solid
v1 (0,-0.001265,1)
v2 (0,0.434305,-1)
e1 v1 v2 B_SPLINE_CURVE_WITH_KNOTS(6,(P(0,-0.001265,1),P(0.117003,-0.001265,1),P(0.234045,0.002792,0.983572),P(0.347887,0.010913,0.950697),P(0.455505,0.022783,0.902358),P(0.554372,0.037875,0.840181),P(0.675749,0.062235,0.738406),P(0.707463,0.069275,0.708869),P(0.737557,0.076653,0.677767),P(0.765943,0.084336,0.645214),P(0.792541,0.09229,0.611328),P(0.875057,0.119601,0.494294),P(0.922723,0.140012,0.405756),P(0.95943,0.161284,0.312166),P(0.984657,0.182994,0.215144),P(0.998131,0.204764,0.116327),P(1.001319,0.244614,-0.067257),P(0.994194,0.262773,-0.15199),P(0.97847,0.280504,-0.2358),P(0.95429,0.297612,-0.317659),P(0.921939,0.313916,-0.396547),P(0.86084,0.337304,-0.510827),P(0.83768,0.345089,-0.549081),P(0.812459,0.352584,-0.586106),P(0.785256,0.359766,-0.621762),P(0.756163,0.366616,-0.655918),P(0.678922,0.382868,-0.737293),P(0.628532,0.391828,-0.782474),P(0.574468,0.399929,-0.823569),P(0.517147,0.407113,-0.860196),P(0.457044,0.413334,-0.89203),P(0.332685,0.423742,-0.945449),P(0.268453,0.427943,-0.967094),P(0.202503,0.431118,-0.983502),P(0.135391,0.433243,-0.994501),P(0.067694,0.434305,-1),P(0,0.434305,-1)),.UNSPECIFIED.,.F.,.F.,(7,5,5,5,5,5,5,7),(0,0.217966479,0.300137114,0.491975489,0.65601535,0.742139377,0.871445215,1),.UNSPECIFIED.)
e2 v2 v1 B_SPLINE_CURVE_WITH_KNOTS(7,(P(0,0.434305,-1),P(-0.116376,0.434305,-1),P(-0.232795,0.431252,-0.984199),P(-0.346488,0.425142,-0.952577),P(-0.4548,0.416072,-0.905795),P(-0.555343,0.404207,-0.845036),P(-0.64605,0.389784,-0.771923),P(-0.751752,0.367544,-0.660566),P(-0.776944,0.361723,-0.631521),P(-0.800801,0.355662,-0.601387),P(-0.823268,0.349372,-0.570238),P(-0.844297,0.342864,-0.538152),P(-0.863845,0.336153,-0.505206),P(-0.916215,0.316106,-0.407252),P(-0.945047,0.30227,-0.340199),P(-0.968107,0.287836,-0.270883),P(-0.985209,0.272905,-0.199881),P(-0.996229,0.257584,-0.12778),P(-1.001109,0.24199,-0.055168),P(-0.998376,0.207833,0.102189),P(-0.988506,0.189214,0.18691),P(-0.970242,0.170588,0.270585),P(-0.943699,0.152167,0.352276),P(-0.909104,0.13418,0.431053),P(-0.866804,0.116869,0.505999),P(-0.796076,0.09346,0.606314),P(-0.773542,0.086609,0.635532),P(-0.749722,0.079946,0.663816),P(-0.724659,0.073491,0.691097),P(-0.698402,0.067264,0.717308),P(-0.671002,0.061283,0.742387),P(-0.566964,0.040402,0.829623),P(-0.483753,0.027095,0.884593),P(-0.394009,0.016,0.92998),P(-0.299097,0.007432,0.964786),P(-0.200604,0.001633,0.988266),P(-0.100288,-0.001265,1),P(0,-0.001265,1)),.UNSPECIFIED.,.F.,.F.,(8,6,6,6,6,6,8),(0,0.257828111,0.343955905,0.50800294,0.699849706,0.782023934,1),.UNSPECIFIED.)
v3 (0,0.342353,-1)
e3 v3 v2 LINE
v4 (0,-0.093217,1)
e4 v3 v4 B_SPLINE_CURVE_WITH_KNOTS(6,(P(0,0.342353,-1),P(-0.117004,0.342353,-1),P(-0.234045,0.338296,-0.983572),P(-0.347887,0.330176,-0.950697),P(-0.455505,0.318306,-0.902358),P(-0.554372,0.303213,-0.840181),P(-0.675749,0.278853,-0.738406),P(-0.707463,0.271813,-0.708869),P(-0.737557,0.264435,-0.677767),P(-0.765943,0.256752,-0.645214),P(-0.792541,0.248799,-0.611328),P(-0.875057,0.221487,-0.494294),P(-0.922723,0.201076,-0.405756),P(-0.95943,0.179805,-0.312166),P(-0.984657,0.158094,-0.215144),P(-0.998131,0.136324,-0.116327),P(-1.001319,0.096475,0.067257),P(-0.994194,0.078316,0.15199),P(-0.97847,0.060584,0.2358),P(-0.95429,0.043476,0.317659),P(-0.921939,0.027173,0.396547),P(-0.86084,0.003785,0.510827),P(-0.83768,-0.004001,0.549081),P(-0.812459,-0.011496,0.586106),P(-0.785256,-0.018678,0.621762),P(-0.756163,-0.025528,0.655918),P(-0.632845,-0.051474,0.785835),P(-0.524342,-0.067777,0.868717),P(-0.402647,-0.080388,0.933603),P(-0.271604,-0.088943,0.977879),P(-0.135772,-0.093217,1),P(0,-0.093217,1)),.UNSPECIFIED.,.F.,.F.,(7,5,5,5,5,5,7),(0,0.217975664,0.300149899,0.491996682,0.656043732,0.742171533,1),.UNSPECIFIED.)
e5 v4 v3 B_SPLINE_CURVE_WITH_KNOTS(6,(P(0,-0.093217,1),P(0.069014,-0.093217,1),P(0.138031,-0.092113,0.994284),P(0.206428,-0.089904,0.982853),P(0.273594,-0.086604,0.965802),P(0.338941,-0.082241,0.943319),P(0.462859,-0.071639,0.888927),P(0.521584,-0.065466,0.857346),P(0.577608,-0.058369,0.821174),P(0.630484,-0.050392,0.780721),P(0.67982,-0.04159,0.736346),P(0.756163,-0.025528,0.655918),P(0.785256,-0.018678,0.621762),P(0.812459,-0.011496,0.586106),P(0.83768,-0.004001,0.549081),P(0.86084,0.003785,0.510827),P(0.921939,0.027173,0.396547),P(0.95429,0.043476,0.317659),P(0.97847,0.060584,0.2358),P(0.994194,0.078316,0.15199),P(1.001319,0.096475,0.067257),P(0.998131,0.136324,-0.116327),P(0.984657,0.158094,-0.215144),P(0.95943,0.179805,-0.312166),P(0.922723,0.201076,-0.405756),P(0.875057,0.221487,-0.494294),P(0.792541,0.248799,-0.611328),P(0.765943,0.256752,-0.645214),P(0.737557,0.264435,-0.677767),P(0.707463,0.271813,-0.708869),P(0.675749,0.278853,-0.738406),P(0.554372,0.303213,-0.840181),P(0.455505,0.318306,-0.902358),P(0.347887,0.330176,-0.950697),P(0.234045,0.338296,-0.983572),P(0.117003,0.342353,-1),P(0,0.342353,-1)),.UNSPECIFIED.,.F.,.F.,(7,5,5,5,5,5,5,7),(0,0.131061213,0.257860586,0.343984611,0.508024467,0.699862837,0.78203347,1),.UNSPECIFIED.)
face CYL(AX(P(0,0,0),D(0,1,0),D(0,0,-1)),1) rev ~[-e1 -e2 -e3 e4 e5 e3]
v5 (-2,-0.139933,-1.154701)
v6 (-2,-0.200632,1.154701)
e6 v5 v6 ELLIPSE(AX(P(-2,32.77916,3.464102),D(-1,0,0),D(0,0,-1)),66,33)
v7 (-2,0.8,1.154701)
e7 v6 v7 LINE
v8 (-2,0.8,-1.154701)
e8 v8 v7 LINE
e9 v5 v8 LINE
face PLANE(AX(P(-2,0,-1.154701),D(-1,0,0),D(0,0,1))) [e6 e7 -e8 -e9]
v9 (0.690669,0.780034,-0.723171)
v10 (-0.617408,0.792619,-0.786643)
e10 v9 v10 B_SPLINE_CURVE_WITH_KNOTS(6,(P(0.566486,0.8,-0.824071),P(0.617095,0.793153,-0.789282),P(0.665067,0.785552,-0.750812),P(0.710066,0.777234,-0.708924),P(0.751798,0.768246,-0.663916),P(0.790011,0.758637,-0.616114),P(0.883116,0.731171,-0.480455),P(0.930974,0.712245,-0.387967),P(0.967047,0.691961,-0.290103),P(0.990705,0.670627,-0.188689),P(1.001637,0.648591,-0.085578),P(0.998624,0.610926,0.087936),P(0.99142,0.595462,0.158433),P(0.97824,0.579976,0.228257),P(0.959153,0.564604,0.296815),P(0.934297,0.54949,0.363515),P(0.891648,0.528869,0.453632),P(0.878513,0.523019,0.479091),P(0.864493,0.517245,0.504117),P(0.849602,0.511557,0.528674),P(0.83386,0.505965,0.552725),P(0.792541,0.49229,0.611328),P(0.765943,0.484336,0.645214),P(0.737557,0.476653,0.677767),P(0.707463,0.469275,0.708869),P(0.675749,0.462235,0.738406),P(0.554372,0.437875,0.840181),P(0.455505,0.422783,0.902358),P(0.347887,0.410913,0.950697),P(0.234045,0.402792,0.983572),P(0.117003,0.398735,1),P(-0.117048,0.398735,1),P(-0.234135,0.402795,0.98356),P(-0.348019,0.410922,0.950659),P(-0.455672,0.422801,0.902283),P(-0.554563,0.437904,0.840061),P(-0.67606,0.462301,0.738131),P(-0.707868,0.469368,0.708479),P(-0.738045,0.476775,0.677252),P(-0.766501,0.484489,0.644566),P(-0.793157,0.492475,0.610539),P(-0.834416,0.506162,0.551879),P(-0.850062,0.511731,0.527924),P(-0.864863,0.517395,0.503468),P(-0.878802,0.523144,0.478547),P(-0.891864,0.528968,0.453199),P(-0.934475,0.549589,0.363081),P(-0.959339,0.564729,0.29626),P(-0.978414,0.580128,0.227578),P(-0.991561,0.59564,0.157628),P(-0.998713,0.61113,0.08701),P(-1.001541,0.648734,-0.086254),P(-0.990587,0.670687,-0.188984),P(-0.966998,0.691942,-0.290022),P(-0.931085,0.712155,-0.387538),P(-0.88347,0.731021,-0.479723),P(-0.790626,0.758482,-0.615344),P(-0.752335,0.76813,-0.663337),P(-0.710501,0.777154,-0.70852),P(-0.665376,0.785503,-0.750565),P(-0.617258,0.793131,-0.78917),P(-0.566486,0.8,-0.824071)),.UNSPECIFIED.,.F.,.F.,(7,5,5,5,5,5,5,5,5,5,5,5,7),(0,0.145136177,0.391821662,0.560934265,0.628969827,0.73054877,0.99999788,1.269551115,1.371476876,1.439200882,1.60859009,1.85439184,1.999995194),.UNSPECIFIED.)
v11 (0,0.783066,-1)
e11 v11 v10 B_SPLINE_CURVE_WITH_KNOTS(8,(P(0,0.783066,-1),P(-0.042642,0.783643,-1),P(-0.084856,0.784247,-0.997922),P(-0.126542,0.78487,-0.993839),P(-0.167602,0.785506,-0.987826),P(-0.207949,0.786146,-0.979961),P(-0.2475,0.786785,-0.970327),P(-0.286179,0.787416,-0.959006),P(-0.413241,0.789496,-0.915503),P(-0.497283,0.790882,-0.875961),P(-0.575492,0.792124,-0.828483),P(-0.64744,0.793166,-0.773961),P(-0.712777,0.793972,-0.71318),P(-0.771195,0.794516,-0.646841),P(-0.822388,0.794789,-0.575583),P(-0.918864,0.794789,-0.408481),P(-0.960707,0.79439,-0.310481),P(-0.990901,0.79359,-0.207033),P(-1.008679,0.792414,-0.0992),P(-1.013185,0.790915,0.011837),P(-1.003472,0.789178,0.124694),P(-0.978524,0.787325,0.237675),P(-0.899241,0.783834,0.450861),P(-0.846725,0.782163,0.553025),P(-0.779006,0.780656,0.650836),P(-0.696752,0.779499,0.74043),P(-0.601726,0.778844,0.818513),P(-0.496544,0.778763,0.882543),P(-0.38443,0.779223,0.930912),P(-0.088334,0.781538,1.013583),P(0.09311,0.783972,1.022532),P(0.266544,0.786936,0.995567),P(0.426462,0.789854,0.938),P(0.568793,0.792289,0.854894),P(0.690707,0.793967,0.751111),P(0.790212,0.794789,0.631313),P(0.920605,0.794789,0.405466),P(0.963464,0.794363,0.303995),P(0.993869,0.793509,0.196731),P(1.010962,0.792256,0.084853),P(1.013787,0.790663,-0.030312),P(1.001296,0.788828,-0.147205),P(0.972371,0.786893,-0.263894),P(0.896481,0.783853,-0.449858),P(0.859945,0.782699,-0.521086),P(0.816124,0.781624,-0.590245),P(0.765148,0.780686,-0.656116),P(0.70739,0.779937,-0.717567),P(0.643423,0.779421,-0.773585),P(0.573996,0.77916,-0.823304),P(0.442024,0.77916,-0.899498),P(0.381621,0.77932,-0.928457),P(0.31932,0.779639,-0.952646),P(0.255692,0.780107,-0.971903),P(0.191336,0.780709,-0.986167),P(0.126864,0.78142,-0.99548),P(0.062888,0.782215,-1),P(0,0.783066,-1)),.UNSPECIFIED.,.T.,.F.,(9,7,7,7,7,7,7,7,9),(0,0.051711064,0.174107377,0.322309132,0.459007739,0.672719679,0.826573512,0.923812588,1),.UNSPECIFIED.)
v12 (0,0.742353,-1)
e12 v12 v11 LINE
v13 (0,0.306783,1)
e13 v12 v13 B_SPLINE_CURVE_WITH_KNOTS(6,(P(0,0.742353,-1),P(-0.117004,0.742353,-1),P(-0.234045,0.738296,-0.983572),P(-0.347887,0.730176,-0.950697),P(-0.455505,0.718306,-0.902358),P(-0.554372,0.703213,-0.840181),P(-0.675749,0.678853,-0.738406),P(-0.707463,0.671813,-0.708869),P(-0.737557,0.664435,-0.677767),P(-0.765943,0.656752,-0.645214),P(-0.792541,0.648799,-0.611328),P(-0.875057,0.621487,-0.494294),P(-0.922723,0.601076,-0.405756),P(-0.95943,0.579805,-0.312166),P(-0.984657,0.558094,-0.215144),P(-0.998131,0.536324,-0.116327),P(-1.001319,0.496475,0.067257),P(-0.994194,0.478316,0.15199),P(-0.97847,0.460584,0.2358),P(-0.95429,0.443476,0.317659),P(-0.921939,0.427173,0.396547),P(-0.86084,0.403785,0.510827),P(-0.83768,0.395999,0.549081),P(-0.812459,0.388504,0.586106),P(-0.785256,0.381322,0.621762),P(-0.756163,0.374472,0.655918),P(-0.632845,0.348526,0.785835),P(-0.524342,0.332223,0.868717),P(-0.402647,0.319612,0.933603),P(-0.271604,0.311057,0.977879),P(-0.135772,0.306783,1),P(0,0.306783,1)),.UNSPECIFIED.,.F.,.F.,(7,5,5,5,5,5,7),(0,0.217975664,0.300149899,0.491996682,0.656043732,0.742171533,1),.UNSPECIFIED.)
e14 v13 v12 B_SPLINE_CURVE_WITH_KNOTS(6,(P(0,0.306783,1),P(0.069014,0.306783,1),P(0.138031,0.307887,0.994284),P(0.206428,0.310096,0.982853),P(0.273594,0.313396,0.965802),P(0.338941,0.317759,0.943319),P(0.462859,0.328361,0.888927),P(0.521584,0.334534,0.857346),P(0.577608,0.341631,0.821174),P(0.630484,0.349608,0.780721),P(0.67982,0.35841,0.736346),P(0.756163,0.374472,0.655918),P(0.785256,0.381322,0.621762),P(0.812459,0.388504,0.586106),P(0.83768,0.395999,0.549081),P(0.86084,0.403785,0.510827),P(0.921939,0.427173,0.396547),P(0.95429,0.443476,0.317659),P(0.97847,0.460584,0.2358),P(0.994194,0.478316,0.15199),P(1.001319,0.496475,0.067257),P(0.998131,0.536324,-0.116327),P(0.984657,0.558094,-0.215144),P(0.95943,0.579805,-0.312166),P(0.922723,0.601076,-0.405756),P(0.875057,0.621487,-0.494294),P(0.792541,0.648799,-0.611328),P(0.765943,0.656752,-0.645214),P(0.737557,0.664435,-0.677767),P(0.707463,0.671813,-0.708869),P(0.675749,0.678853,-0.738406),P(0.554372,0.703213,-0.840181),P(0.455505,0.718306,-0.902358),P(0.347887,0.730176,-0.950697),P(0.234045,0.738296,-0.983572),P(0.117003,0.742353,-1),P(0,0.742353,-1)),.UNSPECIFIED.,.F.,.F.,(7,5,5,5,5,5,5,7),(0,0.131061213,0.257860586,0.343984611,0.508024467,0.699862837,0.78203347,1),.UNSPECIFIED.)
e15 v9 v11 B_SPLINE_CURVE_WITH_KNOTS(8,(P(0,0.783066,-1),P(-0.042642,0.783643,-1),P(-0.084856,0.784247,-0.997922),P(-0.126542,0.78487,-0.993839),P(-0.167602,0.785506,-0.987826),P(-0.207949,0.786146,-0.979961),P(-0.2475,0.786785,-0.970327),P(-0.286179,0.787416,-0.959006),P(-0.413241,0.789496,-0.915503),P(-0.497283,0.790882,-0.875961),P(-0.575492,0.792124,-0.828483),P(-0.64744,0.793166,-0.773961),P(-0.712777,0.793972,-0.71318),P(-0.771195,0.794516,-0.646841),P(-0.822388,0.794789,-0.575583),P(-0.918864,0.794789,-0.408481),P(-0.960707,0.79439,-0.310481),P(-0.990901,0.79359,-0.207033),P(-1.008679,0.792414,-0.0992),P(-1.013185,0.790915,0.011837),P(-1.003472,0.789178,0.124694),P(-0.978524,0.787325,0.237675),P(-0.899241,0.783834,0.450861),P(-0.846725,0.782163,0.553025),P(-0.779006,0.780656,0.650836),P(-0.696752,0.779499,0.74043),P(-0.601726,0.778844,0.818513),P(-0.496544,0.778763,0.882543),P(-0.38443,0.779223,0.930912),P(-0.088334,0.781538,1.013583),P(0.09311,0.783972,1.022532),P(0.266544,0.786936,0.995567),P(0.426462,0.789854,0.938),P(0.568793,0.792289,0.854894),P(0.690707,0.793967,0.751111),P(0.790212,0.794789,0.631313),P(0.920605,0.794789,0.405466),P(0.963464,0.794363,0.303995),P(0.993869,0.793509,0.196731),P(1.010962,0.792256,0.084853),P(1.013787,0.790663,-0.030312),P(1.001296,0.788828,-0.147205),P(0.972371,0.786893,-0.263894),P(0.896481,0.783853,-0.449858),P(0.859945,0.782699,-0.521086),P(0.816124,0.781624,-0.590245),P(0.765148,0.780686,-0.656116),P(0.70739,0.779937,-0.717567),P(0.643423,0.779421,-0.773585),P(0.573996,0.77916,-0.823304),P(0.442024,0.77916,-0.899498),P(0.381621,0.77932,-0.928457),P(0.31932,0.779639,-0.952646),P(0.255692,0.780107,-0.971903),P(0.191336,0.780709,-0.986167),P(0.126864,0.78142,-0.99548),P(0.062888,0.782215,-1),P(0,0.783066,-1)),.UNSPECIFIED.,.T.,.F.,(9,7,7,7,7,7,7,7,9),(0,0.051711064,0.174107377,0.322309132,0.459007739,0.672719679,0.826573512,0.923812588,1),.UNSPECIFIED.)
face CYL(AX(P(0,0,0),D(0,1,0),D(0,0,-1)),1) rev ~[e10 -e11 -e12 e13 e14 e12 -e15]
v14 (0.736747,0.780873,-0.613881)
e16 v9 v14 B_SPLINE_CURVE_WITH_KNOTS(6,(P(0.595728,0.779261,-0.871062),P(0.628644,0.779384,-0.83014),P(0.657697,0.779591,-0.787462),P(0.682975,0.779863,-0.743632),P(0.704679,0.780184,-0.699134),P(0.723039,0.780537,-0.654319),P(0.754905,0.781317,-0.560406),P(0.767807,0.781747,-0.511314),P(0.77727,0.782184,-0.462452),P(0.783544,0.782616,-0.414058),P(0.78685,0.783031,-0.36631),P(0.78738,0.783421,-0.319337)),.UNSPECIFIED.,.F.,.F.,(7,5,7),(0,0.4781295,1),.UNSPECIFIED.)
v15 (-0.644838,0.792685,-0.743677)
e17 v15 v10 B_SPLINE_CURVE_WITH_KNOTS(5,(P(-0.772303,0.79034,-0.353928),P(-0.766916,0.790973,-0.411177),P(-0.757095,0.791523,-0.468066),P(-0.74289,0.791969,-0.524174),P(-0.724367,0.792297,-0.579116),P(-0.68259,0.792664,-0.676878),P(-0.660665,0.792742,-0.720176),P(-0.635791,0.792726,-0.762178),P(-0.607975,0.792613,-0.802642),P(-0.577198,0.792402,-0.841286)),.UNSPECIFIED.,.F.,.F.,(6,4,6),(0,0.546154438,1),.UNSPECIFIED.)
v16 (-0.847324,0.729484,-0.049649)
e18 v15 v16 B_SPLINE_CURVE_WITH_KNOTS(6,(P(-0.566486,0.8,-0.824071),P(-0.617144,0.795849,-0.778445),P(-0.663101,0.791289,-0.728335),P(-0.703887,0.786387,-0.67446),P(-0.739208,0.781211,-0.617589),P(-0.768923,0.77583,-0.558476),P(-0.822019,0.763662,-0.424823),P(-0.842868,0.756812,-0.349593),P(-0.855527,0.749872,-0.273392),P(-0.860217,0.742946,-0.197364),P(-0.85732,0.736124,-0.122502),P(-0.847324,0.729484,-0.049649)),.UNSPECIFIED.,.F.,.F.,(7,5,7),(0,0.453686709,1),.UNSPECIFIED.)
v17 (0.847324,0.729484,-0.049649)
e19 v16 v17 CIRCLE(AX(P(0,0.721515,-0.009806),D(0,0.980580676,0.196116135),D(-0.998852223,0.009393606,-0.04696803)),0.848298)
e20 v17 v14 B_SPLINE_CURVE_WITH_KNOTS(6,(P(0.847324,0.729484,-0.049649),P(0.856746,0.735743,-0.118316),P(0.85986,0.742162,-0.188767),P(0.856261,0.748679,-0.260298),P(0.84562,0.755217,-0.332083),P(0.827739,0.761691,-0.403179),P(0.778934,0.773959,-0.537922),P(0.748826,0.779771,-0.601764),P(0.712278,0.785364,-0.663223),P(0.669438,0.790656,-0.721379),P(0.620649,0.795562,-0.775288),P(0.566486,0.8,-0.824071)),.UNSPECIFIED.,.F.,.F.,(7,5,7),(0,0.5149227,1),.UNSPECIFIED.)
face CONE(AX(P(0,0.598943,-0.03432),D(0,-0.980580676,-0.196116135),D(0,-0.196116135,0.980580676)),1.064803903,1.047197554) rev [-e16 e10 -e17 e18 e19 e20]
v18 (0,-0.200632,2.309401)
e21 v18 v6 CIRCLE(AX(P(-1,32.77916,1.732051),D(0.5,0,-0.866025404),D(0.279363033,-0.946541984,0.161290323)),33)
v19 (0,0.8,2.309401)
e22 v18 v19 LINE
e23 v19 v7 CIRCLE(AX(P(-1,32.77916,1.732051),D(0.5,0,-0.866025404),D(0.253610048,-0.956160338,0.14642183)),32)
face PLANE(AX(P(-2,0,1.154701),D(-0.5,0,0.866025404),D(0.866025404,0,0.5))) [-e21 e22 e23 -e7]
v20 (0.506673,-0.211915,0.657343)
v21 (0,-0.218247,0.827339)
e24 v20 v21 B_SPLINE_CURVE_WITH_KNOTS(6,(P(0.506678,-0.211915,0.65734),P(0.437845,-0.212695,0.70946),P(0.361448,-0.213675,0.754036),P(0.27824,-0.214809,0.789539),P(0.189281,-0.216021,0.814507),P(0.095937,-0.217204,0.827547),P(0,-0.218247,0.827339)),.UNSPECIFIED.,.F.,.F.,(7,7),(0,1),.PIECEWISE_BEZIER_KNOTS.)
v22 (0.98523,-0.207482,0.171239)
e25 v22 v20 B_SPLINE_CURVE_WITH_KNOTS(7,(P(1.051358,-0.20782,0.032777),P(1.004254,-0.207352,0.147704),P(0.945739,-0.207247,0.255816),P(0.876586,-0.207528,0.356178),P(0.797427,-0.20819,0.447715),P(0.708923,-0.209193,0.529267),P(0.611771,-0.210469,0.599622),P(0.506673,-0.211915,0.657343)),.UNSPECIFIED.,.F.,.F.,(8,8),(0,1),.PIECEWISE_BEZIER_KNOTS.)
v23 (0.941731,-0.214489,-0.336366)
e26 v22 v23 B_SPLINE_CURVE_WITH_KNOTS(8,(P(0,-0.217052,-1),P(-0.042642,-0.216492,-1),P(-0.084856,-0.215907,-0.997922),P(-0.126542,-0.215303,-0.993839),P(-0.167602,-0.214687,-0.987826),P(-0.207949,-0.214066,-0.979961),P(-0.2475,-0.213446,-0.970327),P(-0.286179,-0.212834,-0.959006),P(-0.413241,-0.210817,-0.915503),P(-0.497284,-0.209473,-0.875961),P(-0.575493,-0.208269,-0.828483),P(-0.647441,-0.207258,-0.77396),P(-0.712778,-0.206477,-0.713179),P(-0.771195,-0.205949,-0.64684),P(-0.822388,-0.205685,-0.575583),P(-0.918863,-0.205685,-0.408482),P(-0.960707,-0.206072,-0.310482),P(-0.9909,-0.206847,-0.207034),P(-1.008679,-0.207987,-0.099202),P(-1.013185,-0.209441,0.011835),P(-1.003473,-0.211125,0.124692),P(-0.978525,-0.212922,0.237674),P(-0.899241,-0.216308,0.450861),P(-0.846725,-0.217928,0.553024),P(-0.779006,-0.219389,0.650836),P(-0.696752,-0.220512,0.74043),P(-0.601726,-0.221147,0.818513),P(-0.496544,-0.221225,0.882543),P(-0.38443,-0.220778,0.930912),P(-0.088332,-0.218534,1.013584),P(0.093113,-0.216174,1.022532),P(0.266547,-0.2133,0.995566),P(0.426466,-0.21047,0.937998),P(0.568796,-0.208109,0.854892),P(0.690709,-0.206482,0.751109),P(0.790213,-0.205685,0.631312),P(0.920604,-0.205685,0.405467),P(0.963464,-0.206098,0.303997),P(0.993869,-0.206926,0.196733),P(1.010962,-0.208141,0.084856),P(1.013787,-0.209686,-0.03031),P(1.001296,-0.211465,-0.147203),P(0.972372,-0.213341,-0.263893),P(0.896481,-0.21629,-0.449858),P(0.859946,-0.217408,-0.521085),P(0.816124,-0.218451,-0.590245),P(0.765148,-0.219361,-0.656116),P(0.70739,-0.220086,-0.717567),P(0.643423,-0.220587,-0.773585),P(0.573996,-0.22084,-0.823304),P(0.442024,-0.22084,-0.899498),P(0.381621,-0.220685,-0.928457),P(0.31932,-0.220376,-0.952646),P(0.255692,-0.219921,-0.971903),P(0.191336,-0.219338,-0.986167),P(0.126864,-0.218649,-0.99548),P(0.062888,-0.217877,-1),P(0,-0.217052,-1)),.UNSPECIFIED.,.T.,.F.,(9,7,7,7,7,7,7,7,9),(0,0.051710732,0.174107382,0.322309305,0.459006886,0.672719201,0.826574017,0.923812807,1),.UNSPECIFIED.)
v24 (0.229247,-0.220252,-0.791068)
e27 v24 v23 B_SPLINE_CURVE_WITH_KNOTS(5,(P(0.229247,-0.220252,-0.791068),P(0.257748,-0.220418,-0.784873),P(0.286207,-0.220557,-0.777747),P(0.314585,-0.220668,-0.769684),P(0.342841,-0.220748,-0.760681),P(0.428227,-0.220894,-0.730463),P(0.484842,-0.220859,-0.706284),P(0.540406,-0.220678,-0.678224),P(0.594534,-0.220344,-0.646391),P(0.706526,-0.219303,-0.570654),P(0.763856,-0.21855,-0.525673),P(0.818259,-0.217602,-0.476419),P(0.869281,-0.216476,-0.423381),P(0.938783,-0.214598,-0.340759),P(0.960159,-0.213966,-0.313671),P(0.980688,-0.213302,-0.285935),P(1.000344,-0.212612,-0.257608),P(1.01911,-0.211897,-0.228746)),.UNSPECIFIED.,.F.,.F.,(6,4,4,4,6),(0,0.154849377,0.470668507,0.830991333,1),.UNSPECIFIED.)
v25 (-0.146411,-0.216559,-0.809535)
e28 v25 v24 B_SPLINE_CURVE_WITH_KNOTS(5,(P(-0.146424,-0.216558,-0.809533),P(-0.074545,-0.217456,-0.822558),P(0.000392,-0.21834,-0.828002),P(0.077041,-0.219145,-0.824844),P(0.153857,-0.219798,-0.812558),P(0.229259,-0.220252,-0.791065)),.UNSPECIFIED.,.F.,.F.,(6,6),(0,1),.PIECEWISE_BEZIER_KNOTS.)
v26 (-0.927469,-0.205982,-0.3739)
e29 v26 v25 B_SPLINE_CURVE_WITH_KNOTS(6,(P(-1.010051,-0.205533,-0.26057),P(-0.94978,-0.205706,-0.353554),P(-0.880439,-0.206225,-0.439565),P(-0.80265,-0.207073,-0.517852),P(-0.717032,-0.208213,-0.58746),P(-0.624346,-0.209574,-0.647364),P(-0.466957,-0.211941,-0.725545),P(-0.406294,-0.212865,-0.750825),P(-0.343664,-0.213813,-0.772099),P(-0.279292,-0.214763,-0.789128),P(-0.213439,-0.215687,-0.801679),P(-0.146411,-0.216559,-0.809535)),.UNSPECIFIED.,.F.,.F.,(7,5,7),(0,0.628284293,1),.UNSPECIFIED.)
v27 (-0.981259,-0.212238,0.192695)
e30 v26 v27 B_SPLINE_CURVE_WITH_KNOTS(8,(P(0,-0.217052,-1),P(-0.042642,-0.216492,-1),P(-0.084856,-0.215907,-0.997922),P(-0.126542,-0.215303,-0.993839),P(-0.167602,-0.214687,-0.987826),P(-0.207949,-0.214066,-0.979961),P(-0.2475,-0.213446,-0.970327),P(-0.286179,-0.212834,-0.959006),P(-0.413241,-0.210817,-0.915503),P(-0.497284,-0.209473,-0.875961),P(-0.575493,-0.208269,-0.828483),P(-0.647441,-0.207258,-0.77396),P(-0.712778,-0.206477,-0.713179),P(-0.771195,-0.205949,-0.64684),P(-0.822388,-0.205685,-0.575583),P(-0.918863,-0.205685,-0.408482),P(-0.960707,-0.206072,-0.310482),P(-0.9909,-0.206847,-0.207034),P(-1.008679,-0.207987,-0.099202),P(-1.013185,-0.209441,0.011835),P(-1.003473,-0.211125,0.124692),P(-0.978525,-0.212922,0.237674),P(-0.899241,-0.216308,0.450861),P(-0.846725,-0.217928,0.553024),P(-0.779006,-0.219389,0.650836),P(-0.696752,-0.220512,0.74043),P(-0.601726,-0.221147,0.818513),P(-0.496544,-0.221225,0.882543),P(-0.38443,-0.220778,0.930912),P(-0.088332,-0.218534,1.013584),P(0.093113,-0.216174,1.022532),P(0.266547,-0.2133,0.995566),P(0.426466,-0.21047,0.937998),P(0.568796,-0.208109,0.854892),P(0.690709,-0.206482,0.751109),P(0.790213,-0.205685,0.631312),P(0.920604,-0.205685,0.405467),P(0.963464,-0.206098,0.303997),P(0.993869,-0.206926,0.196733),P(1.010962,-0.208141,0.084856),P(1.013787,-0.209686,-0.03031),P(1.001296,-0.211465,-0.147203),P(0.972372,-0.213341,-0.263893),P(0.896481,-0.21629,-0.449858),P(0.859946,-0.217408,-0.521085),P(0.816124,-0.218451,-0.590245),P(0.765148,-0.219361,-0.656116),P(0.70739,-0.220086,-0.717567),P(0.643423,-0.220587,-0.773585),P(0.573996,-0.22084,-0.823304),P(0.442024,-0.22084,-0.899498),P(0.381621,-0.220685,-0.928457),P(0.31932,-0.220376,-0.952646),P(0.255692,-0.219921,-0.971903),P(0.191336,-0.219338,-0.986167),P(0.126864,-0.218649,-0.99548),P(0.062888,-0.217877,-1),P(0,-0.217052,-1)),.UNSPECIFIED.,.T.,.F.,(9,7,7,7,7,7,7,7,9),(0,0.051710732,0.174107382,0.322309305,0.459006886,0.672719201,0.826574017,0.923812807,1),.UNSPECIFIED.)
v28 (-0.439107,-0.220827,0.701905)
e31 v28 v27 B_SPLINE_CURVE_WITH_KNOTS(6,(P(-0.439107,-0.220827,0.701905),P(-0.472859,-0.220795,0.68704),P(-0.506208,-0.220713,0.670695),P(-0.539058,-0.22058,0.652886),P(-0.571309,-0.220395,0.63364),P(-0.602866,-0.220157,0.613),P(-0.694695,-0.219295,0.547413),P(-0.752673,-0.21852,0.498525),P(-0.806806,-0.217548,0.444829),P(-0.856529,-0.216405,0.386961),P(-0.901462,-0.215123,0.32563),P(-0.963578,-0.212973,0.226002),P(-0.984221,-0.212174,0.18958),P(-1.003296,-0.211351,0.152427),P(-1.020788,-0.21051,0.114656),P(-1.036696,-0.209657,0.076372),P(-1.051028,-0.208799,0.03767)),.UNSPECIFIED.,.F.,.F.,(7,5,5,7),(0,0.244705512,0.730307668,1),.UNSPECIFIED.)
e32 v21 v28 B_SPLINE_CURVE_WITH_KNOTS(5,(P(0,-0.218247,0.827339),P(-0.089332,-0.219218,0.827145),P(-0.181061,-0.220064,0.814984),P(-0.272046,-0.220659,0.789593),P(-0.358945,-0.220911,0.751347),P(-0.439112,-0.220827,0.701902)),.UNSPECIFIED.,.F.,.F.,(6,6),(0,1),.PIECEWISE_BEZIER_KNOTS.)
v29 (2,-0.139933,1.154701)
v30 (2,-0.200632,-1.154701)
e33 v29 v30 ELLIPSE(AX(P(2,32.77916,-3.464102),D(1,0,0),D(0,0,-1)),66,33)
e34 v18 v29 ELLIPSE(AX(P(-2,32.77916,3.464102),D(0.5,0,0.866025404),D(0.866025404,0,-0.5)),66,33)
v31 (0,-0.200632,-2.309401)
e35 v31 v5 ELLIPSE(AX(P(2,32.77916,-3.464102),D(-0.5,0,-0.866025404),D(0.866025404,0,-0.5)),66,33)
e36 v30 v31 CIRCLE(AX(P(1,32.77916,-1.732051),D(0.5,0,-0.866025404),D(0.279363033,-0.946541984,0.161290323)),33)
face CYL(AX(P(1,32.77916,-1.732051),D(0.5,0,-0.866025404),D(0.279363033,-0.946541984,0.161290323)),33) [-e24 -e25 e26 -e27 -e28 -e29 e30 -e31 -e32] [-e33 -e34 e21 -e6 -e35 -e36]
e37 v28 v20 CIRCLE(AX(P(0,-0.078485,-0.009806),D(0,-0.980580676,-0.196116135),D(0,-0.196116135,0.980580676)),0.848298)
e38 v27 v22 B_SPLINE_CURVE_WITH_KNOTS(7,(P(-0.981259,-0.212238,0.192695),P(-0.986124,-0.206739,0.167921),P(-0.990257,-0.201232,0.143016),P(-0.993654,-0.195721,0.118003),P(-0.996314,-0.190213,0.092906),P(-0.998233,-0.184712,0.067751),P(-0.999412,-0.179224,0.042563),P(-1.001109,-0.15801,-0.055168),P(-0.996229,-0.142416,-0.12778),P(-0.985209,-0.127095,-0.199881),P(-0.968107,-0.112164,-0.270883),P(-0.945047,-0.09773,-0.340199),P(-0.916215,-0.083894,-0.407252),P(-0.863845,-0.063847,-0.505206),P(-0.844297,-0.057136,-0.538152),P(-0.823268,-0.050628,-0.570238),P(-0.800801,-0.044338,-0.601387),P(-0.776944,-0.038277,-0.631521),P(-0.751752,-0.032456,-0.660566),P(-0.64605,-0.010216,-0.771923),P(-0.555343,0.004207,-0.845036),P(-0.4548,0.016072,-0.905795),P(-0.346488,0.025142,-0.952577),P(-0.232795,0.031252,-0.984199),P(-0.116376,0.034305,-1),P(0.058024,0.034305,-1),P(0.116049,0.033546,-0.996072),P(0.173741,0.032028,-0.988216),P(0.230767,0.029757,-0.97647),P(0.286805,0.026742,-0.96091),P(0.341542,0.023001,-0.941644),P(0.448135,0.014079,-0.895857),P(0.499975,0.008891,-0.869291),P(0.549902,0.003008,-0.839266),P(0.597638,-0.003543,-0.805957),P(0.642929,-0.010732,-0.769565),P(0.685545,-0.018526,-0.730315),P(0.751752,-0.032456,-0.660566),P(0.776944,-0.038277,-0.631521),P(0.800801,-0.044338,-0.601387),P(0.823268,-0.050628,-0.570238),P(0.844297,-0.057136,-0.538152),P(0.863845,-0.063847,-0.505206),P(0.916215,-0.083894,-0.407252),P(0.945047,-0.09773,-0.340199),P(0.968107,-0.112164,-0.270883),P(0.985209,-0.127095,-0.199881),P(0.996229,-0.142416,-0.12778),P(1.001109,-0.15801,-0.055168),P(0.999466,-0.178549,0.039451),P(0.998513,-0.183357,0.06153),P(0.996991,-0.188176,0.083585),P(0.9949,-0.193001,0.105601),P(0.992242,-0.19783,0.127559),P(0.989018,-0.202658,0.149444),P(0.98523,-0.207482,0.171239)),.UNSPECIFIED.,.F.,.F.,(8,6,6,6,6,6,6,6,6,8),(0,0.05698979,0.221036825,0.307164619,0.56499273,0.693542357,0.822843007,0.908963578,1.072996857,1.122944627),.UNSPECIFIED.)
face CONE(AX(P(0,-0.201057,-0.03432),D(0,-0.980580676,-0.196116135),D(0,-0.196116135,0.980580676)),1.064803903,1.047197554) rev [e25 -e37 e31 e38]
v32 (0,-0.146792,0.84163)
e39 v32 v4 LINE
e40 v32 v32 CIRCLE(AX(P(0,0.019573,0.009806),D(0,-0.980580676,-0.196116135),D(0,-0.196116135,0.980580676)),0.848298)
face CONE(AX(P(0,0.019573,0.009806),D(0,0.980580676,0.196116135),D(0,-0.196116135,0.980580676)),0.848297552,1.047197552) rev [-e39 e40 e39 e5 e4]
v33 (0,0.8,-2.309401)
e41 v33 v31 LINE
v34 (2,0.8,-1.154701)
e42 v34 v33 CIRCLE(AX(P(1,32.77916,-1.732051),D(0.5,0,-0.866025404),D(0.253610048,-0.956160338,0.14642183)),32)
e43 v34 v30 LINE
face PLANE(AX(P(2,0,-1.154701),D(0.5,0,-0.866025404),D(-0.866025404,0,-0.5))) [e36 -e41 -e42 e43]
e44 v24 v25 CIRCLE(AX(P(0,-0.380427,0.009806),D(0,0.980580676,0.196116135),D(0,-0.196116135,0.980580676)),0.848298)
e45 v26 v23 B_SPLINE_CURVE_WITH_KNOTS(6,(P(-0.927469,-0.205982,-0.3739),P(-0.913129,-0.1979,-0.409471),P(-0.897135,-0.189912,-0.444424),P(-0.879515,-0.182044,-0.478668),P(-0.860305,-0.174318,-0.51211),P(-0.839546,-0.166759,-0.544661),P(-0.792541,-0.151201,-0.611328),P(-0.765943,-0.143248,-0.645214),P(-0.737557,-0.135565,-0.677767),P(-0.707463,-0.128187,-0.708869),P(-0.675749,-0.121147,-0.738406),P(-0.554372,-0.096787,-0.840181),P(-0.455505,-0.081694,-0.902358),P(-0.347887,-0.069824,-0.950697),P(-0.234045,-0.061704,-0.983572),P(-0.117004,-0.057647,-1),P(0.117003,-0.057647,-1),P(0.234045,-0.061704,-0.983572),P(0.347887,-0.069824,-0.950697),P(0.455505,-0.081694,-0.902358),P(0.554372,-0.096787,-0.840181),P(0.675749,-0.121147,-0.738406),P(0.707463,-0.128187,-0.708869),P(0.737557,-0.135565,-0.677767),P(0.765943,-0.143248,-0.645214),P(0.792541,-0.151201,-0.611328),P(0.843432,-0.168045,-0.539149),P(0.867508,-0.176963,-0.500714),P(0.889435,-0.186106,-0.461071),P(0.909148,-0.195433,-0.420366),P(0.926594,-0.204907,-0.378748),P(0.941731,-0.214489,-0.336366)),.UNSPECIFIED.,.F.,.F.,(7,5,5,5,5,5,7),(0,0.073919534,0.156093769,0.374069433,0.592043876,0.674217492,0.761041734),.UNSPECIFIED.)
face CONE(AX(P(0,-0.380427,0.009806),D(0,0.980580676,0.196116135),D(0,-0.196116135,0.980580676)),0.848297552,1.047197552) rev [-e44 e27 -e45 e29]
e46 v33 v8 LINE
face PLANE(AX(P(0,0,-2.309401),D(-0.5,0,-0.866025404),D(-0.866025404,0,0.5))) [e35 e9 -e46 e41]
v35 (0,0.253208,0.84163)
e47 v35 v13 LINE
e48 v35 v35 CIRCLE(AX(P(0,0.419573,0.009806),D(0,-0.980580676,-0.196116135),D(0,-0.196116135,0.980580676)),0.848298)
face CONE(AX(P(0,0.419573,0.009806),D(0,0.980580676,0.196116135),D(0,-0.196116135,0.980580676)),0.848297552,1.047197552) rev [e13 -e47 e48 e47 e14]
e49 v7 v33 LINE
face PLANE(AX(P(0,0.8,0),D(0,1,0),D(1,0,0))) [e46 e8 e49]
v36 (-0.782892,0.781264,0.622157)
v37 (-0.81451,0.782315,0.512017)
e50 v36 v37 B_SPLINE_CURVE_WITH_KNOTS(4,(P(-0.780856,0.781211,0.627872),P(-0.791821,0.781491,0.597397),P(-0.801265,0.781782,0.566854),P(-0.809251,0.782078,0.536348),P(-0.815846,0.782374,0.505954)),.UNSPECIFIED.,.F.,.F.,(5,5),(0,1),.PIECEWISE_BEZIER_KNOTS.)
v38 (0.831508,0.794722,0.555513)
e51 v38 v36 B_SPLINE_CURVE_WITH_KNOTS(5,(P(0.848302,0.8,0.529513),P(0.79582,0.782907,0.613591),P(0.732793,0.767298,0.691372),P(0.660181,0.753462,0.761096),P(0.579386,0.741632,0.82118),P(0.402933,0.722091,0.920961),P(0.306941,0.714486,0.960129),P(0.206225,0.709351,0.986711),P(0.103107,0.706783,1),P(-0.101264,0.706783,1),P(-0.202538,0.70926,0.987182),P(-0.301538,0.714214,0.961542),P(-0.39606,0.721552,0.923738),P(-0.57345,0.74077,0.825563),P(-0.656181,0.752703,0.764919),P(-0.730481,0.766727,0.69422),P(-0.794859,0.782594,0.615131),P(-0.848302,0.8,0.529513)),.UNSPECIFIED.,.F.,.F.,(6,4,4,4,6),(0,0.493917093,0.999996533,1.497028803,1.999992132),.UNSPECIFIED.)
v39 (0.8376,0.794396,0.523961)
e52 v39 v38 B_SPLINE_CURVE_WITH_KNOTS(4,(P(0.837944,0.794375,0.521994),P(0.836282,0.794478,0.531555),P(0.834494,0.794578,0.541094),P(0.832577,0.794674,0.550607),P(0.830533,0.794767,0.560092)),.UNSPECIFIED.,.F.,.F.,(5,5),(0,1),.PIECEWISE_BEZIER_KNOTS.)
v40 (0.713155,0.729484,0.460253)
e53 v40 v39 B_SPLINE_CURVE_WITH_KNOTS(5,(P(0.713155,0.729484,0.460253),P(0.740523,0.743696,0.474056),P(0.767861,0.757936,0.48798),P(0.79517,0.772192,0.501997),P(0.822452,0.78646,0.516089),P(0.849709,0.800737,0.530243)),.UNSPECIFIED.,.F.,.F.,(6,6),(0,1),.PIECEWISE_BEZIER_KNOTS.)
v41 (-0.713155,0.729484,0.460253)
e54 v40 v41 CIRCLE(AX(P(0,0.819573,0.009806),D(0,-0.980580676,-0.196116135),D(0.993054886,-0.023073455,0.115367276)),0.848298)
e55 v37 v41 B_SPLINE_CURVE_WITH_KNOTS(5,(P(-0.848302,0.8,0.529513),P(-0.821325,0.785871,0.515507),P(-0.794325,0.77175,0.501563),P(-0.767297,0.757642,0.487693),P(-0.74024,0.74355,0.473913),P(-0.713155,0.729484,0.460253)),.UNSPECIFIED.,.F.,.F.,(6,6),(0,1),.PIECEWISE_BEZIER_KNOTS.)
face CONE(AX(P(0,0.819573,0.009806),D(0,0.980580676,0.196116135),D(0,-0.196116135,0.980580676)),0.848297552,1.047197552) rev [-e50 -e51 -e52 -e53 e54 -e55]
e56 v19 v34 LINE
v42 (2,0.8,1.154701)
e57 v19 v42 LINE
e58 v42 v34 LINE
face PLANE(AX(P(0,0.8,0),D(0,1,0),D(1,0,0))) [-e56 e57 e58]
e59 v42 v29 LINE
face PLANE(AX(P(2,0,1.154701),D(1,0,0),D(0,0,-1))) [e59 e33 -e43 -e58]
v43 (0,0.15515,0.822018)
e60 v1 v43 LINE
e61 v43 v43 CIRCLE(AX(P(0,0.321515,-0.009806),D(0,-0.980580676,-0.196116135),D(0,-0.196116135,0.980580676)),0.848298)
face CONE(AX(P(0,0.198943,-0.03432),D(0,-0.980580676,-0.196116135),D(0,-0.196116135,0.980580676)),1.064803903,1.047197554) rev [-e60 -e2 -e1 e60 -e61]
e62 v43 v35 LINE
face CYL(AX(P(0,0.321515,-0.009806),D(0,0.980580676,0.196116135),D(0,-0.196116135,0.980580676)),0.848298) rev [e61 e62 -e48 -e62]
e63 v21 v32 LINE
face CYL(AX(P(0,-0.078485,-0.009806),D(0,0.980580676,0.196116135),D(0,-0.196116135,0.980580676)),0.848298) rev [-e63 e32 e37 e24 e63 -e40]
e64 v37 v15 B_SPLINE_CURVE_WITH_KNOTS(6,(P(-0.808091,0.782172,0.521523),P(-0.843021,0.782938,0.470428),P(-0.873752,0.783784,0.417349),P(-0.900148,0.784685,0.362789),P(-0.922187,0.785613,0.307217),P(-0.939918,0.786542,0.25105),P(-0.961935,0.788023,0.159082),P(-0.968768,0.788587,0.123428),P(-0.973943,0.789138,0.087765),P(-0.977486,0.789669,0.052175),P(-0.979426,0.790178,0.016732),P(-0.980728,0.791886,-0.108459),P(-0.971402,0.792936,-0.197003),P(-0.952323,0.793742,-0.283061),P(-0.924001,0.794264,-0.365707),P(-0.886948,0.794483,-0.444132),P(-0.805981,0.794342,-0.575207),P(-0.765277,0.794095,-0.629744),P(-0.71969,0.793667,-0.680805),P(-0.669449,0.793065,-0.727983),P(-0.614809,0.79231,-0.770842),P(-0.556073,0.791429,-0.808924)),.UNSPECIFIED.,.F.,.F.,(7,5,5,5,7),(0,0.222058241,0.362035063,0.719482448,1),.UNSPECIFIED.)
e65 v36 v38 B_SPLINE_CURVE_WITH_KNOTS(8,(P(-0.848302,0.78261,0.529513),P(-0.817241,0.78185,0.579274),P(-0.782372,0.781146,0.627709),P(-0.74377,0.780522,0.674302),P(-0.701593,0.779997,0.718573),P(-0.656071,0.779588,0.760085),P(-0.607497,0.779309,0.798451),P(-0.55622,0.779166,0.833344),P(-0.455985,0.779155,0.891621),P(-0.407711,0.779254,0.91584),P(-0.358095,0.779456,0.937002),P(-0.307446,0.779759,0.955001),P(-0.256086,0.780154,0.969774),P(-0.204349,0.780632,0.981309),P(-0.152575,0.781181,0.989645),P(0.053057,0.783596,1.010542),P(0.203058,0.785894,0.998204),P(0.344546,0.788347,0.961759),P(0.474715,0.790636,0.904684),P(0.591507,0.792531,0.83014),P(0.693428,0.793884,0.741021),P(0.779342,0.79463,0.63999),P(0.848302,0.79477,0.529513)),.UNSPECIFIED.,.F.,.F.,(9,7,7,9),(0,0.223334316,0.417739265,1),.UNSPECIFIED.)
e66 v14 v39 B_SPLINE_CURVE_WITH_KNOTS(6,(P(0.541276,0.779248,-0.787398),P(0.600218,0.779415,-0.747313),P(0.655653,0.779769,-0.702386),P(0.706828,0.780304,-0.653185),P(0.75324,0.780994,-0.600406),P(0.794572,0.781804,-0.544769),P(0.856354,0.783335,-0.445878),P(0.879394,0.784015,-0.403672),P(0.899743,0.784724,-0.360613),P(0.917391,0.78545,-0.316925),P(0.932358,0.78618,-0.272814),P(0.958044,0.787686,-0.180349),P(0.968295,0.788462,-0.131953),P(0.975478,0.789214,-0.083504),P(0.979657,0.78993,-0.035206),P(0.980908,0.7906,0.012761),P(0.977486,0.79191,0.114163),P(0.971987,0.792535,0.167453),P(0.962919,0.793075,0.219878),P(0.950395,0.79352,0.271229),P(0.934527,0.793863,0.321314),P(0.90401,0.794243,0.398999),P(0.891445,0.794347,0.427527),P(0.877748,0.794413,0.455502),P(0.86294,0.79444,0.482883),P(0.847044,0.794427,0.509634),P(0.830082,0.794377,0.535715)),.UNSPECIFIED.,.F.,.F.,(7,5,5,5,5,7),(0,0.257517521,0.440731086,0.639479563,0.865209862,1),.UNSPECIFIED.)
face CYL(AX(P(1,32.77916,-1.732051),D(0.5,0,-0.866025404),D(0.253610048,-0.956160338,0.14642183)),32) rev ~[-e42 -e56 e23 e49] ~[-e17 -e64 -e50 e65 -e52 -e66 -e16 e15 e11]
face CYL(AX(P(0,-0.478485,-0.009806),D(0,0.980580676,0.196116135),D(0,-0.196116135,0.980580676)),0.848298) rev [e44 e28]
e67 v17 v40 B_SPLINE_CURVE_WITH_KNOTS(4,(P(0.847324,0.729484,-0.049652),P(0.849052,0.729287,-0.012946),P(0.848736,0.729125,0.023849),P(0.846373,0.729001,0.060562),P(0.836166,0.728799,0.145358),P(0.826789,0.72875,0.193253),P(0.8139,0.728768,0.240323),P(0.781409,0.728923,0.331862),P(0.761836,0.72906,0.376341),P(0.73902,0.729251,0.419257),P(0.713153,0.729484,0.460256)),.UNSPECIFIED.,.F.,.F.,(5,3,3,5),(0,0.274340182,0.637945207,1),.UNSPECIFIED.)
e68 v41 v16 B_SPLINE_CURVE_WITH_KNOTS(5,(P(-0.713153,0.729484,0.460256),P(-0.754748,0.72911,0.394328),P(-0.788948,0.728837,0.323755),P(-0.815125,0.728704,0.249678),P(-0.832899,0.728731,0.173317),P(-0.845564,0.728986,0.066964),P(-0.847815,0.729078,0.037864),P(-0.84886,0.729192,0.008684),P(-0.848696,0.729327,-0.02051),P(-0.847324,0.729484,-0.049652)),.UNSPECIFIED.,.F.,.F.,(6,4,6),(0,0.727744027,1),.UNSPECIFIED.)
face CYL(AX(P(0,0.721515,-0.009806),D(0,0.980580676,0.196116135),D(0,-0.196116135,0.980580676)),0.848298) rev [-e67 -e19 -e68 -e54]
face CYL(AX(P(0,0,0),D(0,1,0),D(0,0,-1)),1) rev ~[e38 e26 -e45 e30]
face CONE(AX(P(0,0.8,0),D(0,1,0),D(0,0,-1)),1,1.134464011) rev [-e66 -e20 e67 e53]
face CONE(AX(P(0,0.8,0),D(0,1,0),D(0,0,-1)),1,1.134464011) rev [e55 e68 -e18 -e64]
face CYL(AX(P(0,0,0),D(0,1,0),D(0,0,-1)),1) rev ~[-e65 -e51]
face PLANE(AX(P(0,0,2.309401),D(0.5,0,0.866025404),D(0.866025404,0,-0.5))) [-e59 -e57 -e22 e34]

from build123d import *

# Parameters (mm, degrees)
EXTRUDE1_DEPTH      = 0.8
SKETCH2_W           = 1
SKETCH2_H           = 1.6
LPATTERN1_COUNT     = 4
LPATTERN1_PITCH     = 0.4
LPATTERN1_COL_COUNT = 2
LPATTERN1_COL_PITCH = 0.4
CUT_EXTRUDE1_DEPTH  = 10


with BuildPart() as part:
    # Sketch1 → Extrude1 (new, symmetric)
    with BuildSketch(Plane(origin=(0, 0, 0), x_dir=(1, 0, 0), z_dir=(0, 1, 0))):
        Polygon((0, 2.309401077), (-2, 1.154700538), (-2, -1.154700538), (0, -2.309401077), (2, -1.154700538), (2, 1.154700538), align=None)
    extrude(amount=EXTRUDE1_DEPTH, both=True)

    # Sketch4 → Cut-Revolve2 (revolve, cut)
    with BuildSketch(Plane(origin=(0, 0, 0), x_dir=(0, 0, -1), z_dir=(1, 0, 0))):
        Polygon((0, 0.8), (1, 0.8), (0.82201838, 0.717005807), (0.82201838, -0.717005807), (1, -0.8), (0, -0.8), align=None)
    revolve(axis=Axis((0, 0.8, 0), (0, 1, 0)), mode=Mode.SUBTRACT)


with BuildPart() as body_2:
    # Sketch2 → Revolve1 (revolve)
    with BuildSketch(Plane(origin=(0, 0, 0), x_dir=(0, 0, -1), z_dir=(1, 0, 0))):
        with Locations((0.5, 0)):
            Rectangle(SKETCH2_W, SKETCH2_H)
    revolve(axis=Axis((0, -1.8, 0), (0, 1, 0)))

    # Sketch3 → Cut-Revolve1 (revolve, cut)
    with BuildSketch(Plane(origin=(0, 0, 0), x_dir=(0, 0, -1), z_dir=(1, 0, 0)), mode=Mode.PRIVATE) as cut_revolve1_sk:
        Polygon((1.009805807, 0.750970966), (1.078446454, 0.40776773), (0.841629993, 0.487879925), (0.82201838, 0.585937993), align=None)
    cut_revolve1 = revolve(cut_revolve1_sk.sketch.rotate(Axis((0, 0.8, 0.085891176), (0, -0.9805806756909201, -0.19611613513818416)), 180), axis=Axis((0, 0.8, 0.085891176), (0, -0.9805806756909201, -0.19611613513818416)), mode=Mode.SUBTRACT)

    # LPattern1: Cut-Revolve1 ×4
    with Locations(*[(0, -i * LPATTERN1_PITCH, 0) for i in range(1, LPATTERN1_COUNT)]):
        add(cut_revolve1, mode=Mode.SUBTRACT)

    # LPattern1 col: Cut-Revolve1 ×2
    with Locations(*[(0, i * LPATTERN1_COL_PITCH, 0) for i in range(1, LPATTERN1_COL_COUNT)]):
        add(cut_revolve1, mode=Mode.SUBTRACT)


with BuildPart() as part_1:
    add(part.part)

    # Combine1: cut body 2
    add(body_2.part, mode=Mode.SUBTRACT)

    # Sketch8 → Cut-Extrude1 (cut)
    with BuildSketch(Plane(origin=(1, 0, -1.732050808), x_dir=(-0.8660254037844387, 0, -0.49999999999999983), z_dir=(0.49999999999999983, 0, -0.8660254037844387))):
        with BuildLine():
            ThreePointArc((-9.370997107, 2.18202908), (0, 0.779159881), (9.370997107, 2.18202908))
            add(Edge.make_bspline(
                [(9.370997107, 2.18202908), (-0.379082197, 7.669320015), (-9.370997107, 2.18202908)],
                knots=[0, 0, 0, 1, 1, 1], degree=2))
        make_face()
        with BuildLine():
            ThreePointArc((-10.64516129, 1.54327441), (0, -0.220840119), (10.64516129, 1.54327441))
            add(Edge.make_bspline(
                [(10.64516129, 1.54327441), (-0.0817748, -7.501419358), (-10.64516129, 1.54327441)],
                knots=[0, 0, 0, 1, 1, 1], degree=2))
        make_face()
    extrude(amount=-CUT_EXTRUDE1_DEPTH, mode=Mode.SUBTRACT)


solid = part_1.part
